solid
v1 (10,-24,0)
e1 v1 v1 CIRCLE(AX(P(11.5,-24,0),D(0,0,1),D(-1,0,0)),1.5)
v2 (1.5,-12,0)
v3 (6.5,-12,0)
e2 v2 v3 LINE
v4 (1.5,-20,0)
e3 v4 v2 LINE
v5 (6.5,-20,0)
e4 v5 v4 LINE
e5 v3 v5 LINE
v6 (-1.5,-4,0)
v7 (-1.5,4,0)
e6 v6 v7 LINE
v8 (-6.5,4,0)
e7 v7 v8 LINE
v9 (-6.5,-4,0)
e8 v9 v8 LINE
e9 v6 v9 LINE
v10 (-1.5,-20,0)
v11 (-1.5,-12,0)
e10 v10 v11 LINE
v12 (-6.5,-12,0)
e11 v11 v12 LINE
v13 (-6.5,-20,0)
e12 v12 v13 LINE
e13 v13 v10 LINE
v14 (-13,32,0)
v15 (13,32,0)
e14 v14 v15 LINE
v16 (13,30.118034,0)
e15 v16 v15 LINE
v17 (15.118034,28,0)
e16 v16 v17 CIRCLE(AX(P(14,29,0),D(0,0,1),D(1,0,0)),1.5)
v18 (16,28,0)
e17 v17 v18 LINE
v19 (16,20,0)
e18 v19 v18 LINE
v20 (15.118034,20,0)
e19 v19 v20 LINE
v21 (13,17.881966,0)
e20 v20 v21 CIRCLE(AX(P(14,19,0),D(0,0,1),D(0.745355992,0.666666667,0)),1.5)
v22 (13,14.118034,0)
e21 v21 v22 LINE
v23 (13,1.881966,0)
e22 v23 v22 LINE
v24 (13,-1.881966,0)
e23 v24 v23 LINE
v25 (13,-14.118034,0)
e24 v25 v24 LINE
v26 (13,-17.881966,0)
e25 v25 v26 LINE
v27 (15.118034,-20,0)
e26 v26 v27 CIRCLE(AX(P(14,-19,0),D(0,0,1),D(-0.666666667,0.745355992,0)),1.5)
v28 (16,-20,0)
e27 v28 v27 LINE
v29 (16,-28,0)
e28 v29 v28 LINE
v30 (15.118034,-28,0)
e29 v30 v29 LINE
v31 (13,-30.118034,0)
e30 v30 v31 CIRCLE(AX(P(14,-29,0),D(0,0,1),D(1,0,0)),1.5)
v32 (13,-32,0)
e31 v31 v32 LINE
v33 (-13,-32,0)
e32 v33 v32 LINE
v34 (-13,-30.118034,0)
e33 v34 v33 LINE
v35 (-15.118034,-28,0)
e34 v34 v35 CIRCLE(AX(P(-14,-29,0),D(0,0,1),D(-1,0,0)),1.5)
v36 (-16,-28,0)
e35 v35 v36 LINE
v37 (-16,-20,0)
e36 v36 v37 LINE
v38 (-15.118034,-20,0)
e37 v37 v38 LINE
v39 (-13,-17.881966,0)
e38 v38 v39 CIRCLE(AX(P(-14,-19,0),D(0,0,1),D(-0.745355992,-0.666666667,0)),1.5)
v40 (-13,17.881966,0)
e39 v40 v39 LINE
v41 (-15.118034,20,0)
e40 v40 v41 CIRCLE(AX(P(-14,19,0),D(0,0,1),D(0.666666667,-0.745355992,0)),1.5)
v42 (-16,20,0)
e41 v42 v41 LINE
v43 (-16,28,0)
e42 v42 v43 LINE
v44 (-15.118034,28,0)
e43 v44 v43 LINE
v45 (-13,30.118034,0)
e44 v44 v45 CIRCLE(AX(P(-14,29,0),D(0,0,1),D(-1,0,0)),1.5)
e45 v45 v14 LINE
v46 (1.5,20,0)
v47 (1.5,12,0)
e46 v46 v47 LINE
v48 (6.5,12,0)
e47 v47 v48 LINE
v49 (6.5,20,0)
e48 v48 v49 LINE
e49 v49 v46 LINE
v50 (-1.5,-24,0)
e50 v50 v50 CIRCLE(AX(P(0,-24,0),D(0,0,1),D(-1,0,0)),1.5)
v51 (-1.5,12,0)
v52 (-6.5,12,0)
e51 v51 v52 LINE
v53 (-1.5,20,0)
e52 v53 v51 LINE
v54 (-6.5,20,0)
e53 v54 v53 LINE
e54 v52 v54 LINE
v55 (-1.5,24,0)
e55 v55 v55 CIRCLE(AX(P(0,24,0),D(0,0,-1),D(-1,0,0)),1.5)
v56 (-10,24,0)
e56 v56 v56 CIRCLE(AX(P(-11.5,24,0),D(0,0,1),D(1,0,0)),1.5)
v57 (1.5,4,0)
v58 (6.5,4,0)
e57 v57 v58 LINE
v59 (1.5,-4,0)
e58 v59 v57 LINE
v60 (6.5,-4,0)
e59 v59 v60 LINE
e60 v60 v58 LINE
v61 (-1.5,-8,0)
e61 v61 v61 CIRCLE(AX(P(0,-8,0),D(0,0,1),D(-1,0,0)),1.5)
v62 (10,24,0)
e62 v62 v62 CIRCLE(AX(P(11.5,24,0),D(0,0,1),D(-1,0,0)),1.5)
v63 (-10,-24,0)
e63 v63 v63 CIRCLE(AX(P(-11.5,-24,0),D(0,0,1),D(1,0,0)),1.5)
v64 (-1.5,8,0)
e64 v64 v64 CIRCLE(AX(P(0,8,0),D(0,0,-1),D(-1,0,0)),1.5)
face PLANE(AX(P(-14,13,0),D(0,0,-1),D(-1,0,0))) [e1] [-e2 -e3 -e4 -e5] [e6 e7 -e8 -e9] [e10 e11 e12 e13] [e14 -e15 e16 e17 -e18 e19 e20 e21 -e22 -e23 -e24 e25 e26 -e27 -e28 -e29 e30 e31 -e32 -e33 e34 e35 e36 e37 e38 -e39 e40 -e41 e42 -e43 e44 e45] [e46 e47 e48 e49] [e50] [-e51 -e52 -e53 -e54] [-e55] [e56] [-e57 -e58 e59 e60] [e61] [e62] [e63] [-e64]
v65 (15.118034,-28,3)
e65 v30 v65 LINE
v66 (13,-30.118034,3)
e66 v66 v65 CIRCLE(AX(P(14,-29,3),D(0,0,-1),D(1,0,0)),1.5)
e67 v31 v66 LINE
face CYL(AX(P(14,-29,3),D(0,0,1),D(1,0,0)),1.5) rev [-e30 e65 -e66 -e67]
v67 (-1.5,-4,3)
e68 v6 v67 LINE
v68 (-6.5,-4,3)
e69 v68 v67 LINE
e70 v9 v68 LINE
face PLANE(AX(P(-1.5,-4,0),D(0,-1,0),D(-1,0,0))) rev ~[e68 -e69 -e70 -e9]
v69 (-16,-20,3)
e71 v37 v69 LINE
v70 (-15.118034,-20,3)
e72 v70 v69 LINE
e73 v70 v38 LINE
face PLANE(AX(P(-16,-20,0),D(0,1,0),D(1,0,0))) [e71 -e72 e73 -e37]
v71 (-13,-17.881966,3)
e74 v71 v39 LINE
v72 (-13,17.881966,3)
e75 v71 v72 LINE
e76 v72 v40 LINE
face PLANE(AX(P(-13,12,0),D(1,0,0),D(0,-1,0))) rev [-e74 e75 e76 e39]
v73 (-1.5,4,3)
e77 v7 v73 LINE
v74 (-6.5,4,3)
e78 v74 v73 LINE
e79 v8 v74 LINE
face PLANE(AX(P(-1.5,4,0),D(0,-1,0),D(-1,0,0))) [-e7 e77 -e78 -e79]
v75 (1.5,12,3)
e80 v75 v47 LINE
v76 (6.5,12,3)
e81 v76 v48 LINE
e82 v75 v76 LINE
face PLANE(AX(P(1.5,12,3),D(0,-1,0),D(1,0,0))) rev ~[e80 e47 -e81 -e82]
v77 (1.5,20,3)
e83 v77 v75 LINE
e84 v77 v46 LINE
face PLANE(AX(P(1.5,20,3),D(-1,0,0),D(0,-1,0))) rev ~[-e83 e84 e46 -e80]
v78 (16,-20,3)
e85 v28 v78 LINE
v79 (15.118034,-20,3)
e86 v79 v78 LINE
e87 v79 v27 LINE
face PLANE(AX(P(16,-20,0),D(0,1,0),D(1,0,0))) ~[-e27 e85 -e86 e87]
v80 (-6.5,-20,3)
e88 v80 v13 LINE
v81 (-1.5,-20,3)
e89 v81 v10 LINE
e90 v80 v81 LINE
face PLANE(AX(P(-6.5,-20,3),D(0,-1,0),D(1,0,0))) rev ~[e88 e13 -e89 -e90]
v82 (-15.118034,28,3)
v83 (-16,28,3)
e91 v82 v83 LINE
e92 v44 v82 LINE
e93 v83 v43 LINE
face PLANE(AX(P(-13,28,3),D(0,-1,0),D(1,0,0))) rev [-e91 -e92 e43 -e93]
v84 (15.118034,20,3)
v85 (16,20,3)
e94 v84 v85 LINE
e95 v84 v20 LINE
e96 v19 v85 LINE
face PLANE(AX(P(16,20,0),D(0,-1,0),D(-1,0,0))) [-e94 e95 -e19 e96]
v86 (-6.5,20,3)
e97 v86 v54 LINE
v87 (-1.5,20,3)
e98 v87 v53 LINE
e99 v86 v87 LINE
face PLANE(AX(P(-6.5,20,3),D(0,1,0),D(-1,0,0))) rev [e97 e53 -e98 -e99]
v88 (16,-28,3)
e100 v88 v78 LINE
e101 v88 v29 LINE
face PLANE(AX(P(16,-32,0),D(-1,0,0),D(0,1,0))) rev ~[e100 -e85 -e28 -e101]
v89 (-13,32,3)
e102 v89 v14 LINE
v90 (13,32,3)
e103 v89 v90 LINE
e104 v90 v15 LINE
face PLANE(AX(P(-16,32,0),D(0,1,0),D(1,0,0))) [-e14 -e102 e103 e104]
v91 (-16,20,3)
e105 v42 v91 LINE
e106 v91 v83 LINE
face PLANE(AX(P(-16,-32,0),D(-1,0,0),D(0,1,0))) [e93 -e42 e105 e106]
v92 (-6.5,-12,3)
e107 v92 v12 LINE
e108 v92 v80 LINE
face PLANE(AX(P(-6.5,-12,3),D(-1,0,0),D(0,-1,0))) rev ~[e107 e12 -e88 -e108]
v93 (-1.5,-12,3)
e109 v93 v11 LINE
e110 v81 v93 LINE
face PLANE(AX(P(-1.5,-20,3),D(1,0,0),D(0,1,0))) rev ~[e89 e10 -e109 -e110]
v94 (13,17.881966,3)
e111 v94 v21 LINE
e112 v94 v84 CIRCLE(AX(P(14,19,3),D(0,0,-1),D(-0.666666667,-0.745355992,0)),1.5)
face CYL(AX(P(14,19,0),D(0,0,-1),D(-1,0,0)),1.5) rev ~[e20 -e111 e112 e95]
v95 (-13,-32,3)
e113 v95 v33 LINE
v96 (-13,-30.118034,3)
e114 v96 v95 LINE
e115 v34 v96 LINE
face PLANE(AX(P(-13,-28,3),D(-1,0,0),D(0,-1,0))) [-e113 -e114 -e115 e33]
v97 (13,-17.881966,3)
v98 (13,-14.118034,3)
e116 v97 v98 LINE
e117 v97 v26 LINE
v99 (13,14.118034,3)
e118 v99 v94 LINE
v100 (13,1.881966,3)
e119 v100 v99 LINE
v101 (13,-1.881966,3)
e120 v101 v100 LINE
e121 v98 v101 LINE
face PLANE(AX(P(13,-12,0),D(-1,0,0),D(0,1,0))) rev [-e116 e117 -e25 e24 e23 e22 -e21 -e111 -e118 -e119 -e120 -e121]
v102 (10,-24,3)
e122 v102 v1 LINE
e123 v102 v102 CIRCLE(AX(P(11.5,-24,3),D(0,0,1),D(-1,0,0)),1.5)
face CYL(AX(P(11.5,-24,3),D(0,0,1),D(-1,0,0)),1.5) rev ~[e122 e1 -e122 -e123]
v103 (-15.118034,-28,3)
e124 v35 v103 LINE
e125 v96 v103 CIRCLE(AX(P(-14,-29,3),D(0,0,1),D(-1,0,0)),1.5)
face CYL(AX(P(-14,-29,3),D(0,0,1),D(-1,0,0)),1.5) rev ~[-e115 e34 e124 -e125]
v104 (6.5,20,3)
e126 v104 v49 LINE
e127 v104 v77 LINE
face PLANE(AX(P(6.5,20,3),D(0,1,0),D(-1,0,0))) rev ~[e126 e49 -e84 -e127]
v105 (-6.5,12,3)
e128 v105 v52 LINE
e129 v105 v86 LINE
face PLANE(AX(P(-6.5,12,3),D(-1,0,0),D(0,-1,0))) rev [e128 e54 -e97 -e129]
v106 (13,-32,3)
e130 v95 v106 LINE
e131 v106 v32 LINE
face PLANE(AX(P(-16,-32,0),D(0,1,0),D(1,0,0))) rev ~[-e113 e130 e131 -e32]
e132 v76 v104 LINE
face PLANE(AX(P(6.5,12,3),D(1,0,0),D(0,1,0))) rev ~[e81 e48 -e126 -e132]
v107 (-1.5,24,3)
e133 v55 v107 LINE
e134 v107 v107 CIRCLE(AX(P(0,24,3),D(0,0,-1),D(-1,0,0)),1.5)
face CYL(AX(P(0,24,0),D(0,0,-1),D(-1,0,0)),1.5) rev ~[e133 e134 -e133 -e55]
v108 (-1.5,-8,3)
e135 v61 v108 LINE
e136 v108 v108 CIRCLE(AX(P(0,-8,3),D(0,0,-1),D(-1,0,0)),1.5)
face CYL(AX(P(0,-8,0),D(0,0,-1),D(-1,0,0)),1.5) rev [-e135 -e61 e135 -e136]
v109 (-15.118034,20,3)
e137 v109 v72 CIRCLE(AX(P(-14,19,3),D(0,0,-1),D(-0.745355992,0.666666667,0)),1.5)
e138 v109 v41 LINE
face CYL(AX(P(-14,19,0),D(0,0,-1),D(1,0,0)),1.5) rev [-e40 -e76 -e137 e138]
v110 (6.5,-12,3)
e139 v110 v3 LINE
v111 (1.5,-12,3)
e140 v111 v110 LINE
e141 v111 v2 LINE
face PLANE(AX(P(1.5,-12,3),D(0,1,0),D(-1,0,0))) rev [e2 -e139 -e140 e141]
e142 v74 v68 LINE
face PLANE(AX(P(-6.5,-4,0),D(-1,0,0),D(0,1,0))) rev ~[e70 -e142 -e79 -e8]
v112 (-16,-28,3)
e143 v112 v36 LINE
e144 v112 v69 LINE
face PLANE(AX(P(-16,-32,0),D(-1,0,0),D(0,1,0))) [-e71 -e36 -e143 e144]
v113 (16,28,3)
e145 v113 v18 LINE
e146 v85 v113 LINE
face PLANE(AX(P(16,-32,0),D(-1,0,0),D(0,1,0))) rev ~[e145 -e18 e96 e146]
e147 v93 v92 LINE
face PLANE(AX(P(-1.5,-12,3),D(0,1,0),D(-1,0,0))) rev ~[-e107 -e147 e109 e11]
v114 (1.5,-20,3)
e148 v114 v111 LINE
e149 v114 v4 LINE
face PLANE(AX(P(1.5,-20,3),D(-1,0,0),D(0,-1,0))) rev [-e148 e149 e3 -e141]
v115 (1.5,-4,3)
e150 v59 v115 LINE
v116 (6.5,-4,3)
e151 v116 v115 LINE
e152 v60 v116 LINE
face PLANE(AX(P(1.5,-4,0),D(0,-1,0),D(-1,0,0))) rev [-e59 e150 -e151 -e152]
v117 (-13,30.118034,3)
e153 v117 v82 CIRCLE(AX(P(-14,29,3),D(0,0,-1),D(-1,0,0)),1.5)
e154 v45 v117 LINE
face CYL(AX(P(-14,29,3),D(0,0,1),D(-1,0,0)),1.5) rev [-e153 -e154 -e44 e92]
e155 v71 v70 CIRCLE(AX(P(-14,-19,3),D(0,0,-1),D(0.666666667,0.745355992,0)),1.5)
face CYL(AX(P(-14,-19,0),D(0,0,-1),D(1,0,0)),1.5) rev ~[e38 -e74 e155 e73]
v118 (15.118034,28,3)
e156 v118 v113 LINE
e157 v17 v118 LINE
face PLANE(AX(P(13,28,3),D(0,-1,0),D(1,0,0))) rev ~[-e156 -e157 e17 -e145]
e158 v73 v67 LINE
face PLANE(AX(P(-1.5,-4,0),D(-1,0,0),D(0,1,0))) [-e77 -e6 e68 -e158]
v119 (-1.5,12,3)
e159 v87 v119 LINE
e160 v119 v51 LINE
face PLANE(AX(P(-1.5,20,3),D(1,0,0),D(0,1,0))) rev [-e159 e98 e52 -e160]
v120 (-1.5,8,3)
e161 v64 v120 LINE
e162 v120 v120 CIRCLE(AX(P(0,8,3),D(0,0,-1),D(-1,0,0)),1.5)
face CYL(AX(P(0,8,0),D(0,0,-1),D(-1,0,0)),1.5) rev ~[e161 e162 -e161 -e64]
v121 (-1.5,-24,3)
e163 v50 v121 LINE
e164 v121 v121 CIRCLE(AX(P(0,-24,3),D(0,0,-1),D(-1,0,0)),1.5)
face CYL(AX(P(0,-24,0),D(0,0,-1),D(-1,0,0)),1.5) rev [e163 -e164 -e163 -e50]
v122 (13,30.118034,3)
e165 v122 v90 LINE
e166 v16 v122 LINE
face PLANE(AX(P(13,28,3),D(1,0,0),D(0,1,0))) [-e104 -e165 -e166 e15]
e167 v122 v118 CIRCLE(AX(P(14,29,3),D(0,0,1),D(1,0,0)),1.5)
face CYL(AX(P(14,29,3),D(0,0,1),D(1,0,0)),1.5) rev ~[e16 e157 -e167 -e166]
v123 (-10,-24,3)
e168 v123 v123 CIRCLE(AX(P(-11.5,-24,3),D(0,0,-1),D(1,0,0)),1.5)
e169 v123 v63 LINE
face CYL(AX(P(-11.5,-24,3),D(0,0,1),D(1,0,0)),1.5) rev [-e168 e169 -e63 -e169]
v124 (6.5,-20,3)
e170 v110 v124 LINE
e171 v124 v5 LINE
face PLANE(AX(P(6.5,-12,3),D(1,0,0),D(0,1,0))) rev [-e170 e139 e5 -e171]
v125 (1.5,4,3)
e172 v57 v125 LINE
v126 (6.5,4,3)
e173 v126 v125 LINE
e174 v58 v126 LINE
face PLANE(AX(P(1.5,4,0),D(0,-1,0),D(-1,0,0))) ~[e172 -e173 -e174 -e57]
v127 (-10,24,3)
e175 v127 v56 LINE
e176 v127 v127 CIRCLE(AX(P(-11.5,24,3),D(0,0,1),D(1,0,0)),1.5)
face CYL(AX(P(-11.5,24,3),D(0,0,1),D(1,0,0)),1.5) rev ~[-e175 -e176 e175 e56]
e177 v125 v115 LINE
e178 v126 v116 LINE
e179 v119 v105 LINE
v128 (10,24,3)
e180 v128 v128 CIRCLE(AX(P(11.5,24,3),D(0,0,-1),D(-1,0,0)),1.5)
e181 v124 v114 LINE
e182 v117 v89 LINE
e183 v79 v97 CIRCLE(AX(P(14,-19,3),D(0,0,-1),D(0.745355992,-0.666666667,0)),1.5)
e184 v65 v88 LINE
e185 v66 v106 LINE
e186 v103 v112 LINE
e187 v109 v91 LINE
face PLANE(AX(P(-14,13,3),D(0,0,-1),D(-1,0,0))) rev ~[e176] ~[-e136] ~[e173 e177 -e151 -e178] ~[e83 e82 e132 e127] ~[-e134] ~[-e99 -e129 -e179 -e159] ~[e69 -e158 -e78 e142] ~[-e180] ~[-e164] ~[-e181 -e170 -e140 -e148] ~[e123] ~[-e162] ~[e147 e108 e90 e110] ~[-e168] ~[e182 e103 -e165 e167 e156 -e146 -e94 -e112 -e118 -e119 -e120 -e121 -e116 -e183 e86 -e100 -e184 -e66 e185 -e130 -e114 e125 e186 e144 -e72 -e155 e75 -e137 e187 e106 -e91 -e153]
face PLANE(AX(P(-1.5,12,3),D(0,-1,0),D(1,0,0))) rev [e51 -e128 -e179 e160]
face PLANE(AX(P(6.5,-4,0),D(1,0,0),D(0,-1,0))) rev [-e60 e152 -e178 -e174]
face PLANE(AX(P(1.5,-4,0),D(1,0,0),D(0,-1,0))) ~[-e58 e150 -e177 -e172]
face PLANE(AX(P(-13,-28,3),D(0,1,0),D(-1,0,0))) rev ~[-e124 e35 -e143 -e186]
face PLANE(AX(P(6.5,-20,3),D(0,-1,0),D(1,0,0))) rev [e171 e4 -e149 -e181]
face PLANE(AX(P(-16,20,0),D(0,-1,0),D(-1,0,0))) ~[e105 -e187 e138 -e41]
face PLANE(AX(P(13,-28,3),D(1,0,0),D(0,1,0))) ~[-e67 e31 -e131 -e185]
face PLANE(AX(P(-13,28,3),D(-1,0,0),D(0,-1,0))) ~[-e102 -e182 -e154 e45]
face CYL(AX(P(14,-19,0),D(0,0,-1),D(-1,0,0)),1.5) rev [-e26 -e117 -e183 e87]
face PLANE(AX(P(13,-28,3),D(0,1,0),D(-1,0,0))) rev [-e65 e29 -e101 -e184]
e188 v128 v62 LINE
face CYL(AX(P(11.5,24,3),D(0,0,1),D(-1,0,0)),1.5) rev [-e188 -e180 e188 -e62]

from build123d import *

# Parameters (mm, degrees)
SKETCH_1_W                = 32
SKETCH_1_H                = 64
EXTRUDE_1_DEPTH           = 3
SKETCH_2_W                = 2.5
SKETCH_2_H                = 4
CUT_EXTRUDE_1_DEPTH       = 36.902646142
MIRROR_2_COPY_1_SKETCH_W  = 2.5
MIRROR_2_COPY_1_SKETCH_H  = 4
MIRROR_2_COPY_1_DEPTH     = 36.902646142
SKETCH_4_W                = 3
SKETCH_4_H                = 8
CUT_EXTRUDE_3_DEPTH       = 10
SKETCH_6_W                = 3
SKETCH_6_H                = 4
CUT_EXTRUDE_5_DEPTH       = 36.902646142
MIRROR_9_COPY_1_SKETCH_W  = 3
MIRROR_9_COPY_1_SKETCH_H  = 4
MIRROR_9_COPY_1_DEPTH     = 36.902646142
SKETCH_8_R                = 1.5
CUT_EXTRUDE_6_DEPTH       = 36.902646142
MIRROR_11_COPY_1_SKETCH_R = 1.5
MIRROR_11_COPY_1_DEPTH    = 36.902646142
SKETCH_10_R               = 1.5
CUT_EXTRUDE_8_DEPTH       = 36.902646142
MIRROR_15_COPY_1_SKETCH_R = 1.5
MIRROR_15_COPY_1_DEPTH    = 36.902646142
SKETCH_11_R               = 1.5
CUT_EXTRUDE_9_DEPTH       = 36.902646142
MIRROR_17_COPY_1_SKETCH_R = 1.5
MIRROR_17_COPY_1_DEPTH    = 36.902646142
SKETCH_12_W               = 3
SKETCH_12_H               = 8
CUT_EXTRUDE_10_DEPTH      = 36.902646142
MIRROR_19_COPY_1_SKETCH_W = 3
MIRROR_19_COPY_1_SKETCH_H = 8
MIRROR_19_COPY_1_DEPTH    = 36.902646142
SKETCH_13_R               = 1.5
CUT_EXTRUDE_11_DEPTH      = 36.902646142
MIRROR_21_COPY_1_SKETCH_R = 1.5
MIRROR_21_COPY_1_DEPTH    = 36.902646142
SKETCH_14_W               = 5
SKETCH_14_H               = 8
CUT_EXTRUDE_12_DEPTH      = 36.902646142
SKETCH_15_R               = 1.5
CUT_EXTRUDE_13_DEPTH      = 36.902646142
EXTRUDE_START             = -3
SKETCH_16_R               = 1.5
EXTRUDE_2_DEPTH           = 3
SKETCH_17_R               = 1.5
EXTRUDE_3_DEPTH           = 3
SKETCH_18_W               = 3.452729718
SKETCH_18_H               = 30.432996322
SKETCH_18_W_2             = 3.815279569
CUT_EXTRUDE_14_DEPTH      = 36.902646142


with BuildPart() as part:
    # 草图1 → 凸台-拉伸1 (new body)
    with BuildSketch(Plane.XY):
        Rectangle(SKETCH_1_W, SKETCH_1_H)
    extrude(amount=EXTRUDE_1_DEPTH)

    # 草图2 → 切除-拉伸1 (cut, through all)
    with BuildSketch(Plane.XY.offset(3)):
        Polygon((4, 16), (4, 12), (6.5, 12), (6.5, 20), (1.5, 20), (1.5, 16), align=None)
        with Locations((2.75, 14)):
            Rectangle(SKETCH_2_W, SKETCH_2_H)
    cut_extrude_1 = extrude(amount=-CUT_EXTRUDE_1_DEPTH, mode=Mode.SUBTRACT)

    # 镜向1: 切除-拉伸1 across plane
    add(cut_extrude_1.mirror(Plane(origin=(0, 0, 0), x_dir=(0, 0, 1), z_dir=(1, 0, 0))), mode=Mode.SUBTRACT)

    # 镜向2: 切除-拉伸1 across plane
    add(cut_extrude_1.mirror(Plane.ZX), mode=Mode.SUBTRACT)

    # 镜向2 copy 1 sketch → 镜向2 copy 1 (cut, through all)
    with BuildSketch(Plane(origin=(0, 0, 3), x_dir=(-1, 0, 0), z_dir=(0, 0, 1))):
        Polygon((4, 16), (4, 12), (6.5, 12), (6.5, 20), (1.5, 20), (1.5, 16), align=None)
        with Locations((2.75, 14)):
            Rectangle(MIRROR_2_COPY_1_SKETCH_W, MIRROR_2_COPY_1_SKETCH_H)
    extrude(amount=-MIRROR_2_COPY_1_DEPTH, mode=Mode.SUBTRACT)

    # 草图4 → 切除-拉伸3 (cut)
    with BuildSketch(Plane.XY.offset(3)):
        with Locations((14.5, 0)):
            Rectangle(SKETCH_4_W, SKETCH_4_H)
    cut_extrude_3 = extrude(amount=-CUT_EXTRUDE_3_DEPTH, mode=Mode.SUBTRACT)

    # 镜向5: 切除-拉伸3 across plane
    add(cut_extrude_3.mirror(Plane(origin=(0, 0, 0), x_dir=(0, 0, 1), z_dir=(1, 0, 0))), mode=Mode.SUBTRACT)

    # 草图6 → 切除-拉伸5 (cut, through all)
    with BuildSketch(Plane.XY.offset(3)):
        with Locations((14.5, 30)):
            Rectangle(SKETCH_6_W, SKETCH_6_H)
    cut_extrude_5 = extrude(amount=-CUT_EXTRUDE_5_DEPTH, mode=Mode.SUBTRACT)

    # 镜向8: 切除-拉伸5 across plane
    add(cut_extrude_5.mirror(Plane.ZX), mode=Mode.SUBTRACT)

    # 镜向9: 切除-拉伸5 across plane
    add(cut_extrude_5.mirror(Plane(origin=(0, 0, 0), x_dir=(0, 0, 1), z_dir=(1, 0, 0))), mode=Mode.SUBTRACT)

    # 镜向9 copy 1 sketch → 镜向9 copy 1 (cut, through all)
    with BuildSketch(Plane(origin=(0, 0, 3), x_dir=(-1, 0, 0), z_dir=(0, 0, 1))):
        with Locations((14.5, 30)):
            Rectangle(MIRROR_9_COPY_1_SKETCH_W, MIRROR_9_COPY_1_SKETCH_H)
    extrude(amount=-MIRROR_9_COPY_1_DEPTH, mode=Mode.SUBTRACT)

    # 草图8 → 切除-拉伸6 (cut, through all)
    with BuildSketch(Plane.XY.offset(3)):
        with Locations((14, 29)):
            Circle(SKETCH_8_R)
    cut_extrude_6 = extrude(amount=-CUT_EXTRUDE_6_DEPTH, mode=Mode.SUBTRACT)

    # 镜向10: 切除-拉伸6 across plane
    add(cut_extrude_6.mirror(Plane(origin=(0, 0, 0), x_dir=(0, 0, 1), z_dir=(1, 0, 0))), mode=Mode.SUBTRACT)

    # 镜向11: 切除-拉伸6 across plane
    add(cut_extrude_6.mirror(Plane.ZX), mode=Mode.SUBTRACT)

    # 镜向11 copy 1 sketch → 镜向11 copy 1 (cut, through all)
    with BuildSketch(Plane(origin=(0, 0, 3), x_dir=(-1, 0, 0), z_dir=(0, 0, 1))):
        with Locations((14, 29)):
            Circle(MIRROR_11_COPY_1_SKETCH_R)
    extrude(amount=-MIRROR_11_COPY_1_DEPTH, mode=Mode.SUBTRACT)

    # 草图10 → 切除-拉伸8 (cut, through all)
    with BuildSketch(Plane.XY.offset(3)):
        with Locations((-14, 3)):
            Circle(SKETCH_10_R)
    cut_extrude_8 = extrude(amount=-CUT_EXTRUDE_8_DEPTH, mode=Mode.SUBTRACT)

    # 镜向14: 切除-拉伸8 across plane
    add(cut_extrude_8.mirror(Plane.ZX), mode=Mode.SUBTRACT)

    # 镜向15: 切除-拉伸8 across plane
    add(cut_extrude_8.mirror(Plane(origin=(0, 0, 0), x_dir=(0, 0, 1), z_dir=(1, 0, 0))), mode=Mode.SUBTRACT)

    # 镜向15 copy 1 sketch → 镜向15 copy 1 (cut, through all)
    with BuildSketch(Plane(origin=(0, 0, 3), x_dir=(-1, 0, 0), z_dir=(0, 0, 1))):
        with Locations((-14, 3)):
            Circle(MIRROR_15_COPY_1_SKETCH_R)
    extrude(amount=-MIRROR_15_COPY_1_DEPTH, mode=Mode.SUBTRACT)

    # 草图11 → 切除-拉伸9 (cut, through all)
    with BuildSketch(Plane.XY.offset(3)):
        with Locations((-11.5, 8)):
            Circle(SKETCH_11_R)
        with Locations((-11.5, 24)):
            Circle(SKETCH_11_R)
    cut_extrude_9 = extrude(amount=-CUT_EXTRUDE_9_DEPTH, mode=Mode.SUBTRACT)

    # 镜向16: 切除-拉伸9 across plane
    add(cut_extrude_9.mirror(Plane(origin=(0, 0, 0), x_dir=(0, 0, 1), z_dir=(1, 0, 0))), mode=Mode.SUBTRACT)

    # 镜向17: 切除-拉伸9 across plane
    add(cut_extrude_9.mirror(Plane.ZX), mode=Mode.SUBTRACT)

    # 镜向17 copy 1 sketch → 镜向17 copy 1 (cut, through all)
    with BuildSketch(Plane(origin=(0, 0, 3), x_dir=(-1, 0, 0), z_dir=(0, 0, 1))):
        with Locations((-11.5, 8)):
            Circle(MIRROR_17_COPY_1_SKETCH_R)
        with Locations((-11.5, 24)):
            Circle(MIRROR_17_COPY_1_SKETCH_R)
    extrude(amount=-MIRROR_17_COPY_1_DEPTH, mode=Mode.SUBTRACT)

    # 草图12 → 切除-拉伸10 (cut, through all)
    with BuildSketch(Plane(origin=(0, 0, 0), x_dir=(-1, 0, 0), z_dir=(0, 0, -1))):
        with Locations((-14.5, 16)):
            Rectangle(SKETCH_12_W, SKETCH_12_H)
    cut_extrude_10 = extrude(amount=-CUT_EXTRUDE_10_DEPTH, mode=Mode.SUBTRACT)

    # 镜向18: 切除-拉伸10 across plane
    add(cut_extrude_10.mirror(Plane(origin=(0, 0, 0), x_dir=(0, 0, 1), z_dir=(1, 0, 0))), mode=Mode.SUBTRACT)

    # 镜向19: 切除-拉伸10 across plane
    add(cut_extrude_10.mirror(Plane.ZX), mode=Mode.SUBTRACT)

    # 镜向19 copy 1 sketch → 镜向19 copy 1 (cut, through all)
    with BuildSketch(Plane(origin=(0, 0, 0), x_dir=(1, 0, 0), z_dir=(0, 0, -1))):
        with Locations((-14.5, 16)):
            Rectangle(MIRROR_19_COPY_1_SKETCH_W, MIRROR_19_COPY_1_SKETCH_H)
    extrude(amount=-MIRROR_19_COPY_1_DEPTH, mode=Mode.SUBTRACT)

    # 草图13 → 切除-拉伸11 (cut, through all)
    with BuildSketch(Plane(origin=(0, 0, 0), x_dir=(-1, 0, 0), z_dir=(0, 0, -1))):
        with Locations((-14, 19)):
            Circle(SKETCH_13_R)
        with Locations((-14, 13)):
            Circle(SKETCH_13_R)
    cut_extrude_11 = extrude(amount=-CUT_EXTRUDE_11_DEPTH, mode=Mode.SUBTRACT)

    # 镜向20: 切除-拉伸11 across plane
    add(cut_extrude_11.mirror(Plane(origin=(0, 0, 0), x_dir=(0, 0, 1), z_dir=(1, 0, 0))), mode=Mode.SUBTRACT)

    # 镜向21: 切除-拉伸11 across plane
    add(cut_extrude_11.mirror(Plane.ZX), mode=Mode.SUBTRACT)

    # 镜向21 copy 1 sketch → 镜向21 copy 1 (cut, through all)
    with BuildSketch(Plane(origin=(0, 0, 0), x_dir=(1, 0, 0), z_dir=(0, 0, -1))):
        with Locations((-14, 19)):
            Circle(MIRROR_21_COPY_1_SKETCH_R)
        with Locations((-14, 13)):
            Circle(MIRROR_21_COPY_1_SKETCH_R)
    extrude(amount=-MIRROR_21_COPY_1_DEPTH, mode=Mode.SUBTRACT)

    # 草图14 → 切除-拉伸12 (cut, through all)
    with BuildSketch(Plane(origin=(0, 0, 0), x_dir=(-1, 0, 0), z_dir=(0, 0, -1))):
        with Locations((4, 0)):
            Rectangle(SKETCH_14_W, SKETCH_14_H)
    cut_extrude_12 = extrude(amount=-CUT_EXTRUDE_12_DEPTH, mode=Mode.SUBTRACT)

    # 镜向22: 切除-拉伸12 across plane
    add(cut_extrude_12.mirror(Plane(origin=(0, 0, 0), x_dir=(0, 0, 1), z_dir=(1, 0, 0))), mode=Mode.SUBTRACT)

    # 草图15 → 切除-拉伸13 (cut, through all)
    with BuildSketch(Plane(origin=(0, 0, 0), x_dir=(-1, 0, 0), z_dir=(0, 0, -1))):
        with Locations((0, 8)):
            Circle(SKETCH_15_R)
        with Locations((0, 24)):
            Circle(SKETCH_15_R)
    cut_extrude_13 = extrude(amount=-CUT_EXTRUDE_13_DEPTH, mode=Mode.SUBTRACT)

    # 镜向23: 切除-拉伸13 across plane
    add(cut_extrude_13.mirror(Plane.ZX), mode=Mode.SUBTRACT)

    # 草图16 → 凸台-拉伸2 (add)
    with BuildSketch(Plane(origin=(0, 0, 0), x_dir=(-1, 0, 0), z_dir=(0, 0, -1)).offset(EXTRUDE_START)):
        with Locations((-11.5, 8)):
            Circle(SKETCH_16_R)
        with Locations((11.5, 8)):
            Circle(SKETCH_16_R)
        with Locations((11.5, -8)):
            Circle(SKETCH_16_R)
        with Locations((-11.5, -8)):
            Circle(SKETCH_16_R)
    extrude(amount=EXTRUDE_2_DEPTH)

    # 草图17 → 凸台-拉伸3 (add)
    with BuildSketch(Plane(origin=(0, 0, 0), x_dir=(-1, 0, 0), z_dir=(0, 0, -1))):
        with Locations((14, 13)):
            Circle(SKETCH_17_R)
        with Locations((-14, 13)):
            Circle(SKETCH_17_R)
        with Locations((-14, 3)):
            Circle(SKETCH_17_R)
        with Locations((14, 3)):
            Circle(SKETCH_17_R)
        with Locations((14, -3)):
            Circle(SKETCH_17_R)
        with Locations((-14, -3)):
            Circle(SKETCH_17_R)
        with Locations((-14, -13)):
            Circle(SKETCH_17_R)
        with Locations((14, -13)):
            Circle(SKETCH_17_R)
    extrude(amount=-EXTRUDE_3_DEPTH)

    # 草图18 → 切除-拉伸14 (cut, through all)
    with BuildSketch(Plane(origin=(0, 0, 0), x_dir=(-1, 0, 0), z_dir=(0, 0, -1))):
        with Locations((14.726364859, 0.092049044)):
            Rectangle(SKETCH_18_W, SKETCH_18_H)
        with Locations((-14.907639785, 0.092049044)):
            Rectangle(SKETCH_18_W_2, SKETCH_18_H)
    extrude(amount=-CUT_EXTRUDE_14_DEPTH, mode=Mode.SUBTRACT)


solid = part.part
